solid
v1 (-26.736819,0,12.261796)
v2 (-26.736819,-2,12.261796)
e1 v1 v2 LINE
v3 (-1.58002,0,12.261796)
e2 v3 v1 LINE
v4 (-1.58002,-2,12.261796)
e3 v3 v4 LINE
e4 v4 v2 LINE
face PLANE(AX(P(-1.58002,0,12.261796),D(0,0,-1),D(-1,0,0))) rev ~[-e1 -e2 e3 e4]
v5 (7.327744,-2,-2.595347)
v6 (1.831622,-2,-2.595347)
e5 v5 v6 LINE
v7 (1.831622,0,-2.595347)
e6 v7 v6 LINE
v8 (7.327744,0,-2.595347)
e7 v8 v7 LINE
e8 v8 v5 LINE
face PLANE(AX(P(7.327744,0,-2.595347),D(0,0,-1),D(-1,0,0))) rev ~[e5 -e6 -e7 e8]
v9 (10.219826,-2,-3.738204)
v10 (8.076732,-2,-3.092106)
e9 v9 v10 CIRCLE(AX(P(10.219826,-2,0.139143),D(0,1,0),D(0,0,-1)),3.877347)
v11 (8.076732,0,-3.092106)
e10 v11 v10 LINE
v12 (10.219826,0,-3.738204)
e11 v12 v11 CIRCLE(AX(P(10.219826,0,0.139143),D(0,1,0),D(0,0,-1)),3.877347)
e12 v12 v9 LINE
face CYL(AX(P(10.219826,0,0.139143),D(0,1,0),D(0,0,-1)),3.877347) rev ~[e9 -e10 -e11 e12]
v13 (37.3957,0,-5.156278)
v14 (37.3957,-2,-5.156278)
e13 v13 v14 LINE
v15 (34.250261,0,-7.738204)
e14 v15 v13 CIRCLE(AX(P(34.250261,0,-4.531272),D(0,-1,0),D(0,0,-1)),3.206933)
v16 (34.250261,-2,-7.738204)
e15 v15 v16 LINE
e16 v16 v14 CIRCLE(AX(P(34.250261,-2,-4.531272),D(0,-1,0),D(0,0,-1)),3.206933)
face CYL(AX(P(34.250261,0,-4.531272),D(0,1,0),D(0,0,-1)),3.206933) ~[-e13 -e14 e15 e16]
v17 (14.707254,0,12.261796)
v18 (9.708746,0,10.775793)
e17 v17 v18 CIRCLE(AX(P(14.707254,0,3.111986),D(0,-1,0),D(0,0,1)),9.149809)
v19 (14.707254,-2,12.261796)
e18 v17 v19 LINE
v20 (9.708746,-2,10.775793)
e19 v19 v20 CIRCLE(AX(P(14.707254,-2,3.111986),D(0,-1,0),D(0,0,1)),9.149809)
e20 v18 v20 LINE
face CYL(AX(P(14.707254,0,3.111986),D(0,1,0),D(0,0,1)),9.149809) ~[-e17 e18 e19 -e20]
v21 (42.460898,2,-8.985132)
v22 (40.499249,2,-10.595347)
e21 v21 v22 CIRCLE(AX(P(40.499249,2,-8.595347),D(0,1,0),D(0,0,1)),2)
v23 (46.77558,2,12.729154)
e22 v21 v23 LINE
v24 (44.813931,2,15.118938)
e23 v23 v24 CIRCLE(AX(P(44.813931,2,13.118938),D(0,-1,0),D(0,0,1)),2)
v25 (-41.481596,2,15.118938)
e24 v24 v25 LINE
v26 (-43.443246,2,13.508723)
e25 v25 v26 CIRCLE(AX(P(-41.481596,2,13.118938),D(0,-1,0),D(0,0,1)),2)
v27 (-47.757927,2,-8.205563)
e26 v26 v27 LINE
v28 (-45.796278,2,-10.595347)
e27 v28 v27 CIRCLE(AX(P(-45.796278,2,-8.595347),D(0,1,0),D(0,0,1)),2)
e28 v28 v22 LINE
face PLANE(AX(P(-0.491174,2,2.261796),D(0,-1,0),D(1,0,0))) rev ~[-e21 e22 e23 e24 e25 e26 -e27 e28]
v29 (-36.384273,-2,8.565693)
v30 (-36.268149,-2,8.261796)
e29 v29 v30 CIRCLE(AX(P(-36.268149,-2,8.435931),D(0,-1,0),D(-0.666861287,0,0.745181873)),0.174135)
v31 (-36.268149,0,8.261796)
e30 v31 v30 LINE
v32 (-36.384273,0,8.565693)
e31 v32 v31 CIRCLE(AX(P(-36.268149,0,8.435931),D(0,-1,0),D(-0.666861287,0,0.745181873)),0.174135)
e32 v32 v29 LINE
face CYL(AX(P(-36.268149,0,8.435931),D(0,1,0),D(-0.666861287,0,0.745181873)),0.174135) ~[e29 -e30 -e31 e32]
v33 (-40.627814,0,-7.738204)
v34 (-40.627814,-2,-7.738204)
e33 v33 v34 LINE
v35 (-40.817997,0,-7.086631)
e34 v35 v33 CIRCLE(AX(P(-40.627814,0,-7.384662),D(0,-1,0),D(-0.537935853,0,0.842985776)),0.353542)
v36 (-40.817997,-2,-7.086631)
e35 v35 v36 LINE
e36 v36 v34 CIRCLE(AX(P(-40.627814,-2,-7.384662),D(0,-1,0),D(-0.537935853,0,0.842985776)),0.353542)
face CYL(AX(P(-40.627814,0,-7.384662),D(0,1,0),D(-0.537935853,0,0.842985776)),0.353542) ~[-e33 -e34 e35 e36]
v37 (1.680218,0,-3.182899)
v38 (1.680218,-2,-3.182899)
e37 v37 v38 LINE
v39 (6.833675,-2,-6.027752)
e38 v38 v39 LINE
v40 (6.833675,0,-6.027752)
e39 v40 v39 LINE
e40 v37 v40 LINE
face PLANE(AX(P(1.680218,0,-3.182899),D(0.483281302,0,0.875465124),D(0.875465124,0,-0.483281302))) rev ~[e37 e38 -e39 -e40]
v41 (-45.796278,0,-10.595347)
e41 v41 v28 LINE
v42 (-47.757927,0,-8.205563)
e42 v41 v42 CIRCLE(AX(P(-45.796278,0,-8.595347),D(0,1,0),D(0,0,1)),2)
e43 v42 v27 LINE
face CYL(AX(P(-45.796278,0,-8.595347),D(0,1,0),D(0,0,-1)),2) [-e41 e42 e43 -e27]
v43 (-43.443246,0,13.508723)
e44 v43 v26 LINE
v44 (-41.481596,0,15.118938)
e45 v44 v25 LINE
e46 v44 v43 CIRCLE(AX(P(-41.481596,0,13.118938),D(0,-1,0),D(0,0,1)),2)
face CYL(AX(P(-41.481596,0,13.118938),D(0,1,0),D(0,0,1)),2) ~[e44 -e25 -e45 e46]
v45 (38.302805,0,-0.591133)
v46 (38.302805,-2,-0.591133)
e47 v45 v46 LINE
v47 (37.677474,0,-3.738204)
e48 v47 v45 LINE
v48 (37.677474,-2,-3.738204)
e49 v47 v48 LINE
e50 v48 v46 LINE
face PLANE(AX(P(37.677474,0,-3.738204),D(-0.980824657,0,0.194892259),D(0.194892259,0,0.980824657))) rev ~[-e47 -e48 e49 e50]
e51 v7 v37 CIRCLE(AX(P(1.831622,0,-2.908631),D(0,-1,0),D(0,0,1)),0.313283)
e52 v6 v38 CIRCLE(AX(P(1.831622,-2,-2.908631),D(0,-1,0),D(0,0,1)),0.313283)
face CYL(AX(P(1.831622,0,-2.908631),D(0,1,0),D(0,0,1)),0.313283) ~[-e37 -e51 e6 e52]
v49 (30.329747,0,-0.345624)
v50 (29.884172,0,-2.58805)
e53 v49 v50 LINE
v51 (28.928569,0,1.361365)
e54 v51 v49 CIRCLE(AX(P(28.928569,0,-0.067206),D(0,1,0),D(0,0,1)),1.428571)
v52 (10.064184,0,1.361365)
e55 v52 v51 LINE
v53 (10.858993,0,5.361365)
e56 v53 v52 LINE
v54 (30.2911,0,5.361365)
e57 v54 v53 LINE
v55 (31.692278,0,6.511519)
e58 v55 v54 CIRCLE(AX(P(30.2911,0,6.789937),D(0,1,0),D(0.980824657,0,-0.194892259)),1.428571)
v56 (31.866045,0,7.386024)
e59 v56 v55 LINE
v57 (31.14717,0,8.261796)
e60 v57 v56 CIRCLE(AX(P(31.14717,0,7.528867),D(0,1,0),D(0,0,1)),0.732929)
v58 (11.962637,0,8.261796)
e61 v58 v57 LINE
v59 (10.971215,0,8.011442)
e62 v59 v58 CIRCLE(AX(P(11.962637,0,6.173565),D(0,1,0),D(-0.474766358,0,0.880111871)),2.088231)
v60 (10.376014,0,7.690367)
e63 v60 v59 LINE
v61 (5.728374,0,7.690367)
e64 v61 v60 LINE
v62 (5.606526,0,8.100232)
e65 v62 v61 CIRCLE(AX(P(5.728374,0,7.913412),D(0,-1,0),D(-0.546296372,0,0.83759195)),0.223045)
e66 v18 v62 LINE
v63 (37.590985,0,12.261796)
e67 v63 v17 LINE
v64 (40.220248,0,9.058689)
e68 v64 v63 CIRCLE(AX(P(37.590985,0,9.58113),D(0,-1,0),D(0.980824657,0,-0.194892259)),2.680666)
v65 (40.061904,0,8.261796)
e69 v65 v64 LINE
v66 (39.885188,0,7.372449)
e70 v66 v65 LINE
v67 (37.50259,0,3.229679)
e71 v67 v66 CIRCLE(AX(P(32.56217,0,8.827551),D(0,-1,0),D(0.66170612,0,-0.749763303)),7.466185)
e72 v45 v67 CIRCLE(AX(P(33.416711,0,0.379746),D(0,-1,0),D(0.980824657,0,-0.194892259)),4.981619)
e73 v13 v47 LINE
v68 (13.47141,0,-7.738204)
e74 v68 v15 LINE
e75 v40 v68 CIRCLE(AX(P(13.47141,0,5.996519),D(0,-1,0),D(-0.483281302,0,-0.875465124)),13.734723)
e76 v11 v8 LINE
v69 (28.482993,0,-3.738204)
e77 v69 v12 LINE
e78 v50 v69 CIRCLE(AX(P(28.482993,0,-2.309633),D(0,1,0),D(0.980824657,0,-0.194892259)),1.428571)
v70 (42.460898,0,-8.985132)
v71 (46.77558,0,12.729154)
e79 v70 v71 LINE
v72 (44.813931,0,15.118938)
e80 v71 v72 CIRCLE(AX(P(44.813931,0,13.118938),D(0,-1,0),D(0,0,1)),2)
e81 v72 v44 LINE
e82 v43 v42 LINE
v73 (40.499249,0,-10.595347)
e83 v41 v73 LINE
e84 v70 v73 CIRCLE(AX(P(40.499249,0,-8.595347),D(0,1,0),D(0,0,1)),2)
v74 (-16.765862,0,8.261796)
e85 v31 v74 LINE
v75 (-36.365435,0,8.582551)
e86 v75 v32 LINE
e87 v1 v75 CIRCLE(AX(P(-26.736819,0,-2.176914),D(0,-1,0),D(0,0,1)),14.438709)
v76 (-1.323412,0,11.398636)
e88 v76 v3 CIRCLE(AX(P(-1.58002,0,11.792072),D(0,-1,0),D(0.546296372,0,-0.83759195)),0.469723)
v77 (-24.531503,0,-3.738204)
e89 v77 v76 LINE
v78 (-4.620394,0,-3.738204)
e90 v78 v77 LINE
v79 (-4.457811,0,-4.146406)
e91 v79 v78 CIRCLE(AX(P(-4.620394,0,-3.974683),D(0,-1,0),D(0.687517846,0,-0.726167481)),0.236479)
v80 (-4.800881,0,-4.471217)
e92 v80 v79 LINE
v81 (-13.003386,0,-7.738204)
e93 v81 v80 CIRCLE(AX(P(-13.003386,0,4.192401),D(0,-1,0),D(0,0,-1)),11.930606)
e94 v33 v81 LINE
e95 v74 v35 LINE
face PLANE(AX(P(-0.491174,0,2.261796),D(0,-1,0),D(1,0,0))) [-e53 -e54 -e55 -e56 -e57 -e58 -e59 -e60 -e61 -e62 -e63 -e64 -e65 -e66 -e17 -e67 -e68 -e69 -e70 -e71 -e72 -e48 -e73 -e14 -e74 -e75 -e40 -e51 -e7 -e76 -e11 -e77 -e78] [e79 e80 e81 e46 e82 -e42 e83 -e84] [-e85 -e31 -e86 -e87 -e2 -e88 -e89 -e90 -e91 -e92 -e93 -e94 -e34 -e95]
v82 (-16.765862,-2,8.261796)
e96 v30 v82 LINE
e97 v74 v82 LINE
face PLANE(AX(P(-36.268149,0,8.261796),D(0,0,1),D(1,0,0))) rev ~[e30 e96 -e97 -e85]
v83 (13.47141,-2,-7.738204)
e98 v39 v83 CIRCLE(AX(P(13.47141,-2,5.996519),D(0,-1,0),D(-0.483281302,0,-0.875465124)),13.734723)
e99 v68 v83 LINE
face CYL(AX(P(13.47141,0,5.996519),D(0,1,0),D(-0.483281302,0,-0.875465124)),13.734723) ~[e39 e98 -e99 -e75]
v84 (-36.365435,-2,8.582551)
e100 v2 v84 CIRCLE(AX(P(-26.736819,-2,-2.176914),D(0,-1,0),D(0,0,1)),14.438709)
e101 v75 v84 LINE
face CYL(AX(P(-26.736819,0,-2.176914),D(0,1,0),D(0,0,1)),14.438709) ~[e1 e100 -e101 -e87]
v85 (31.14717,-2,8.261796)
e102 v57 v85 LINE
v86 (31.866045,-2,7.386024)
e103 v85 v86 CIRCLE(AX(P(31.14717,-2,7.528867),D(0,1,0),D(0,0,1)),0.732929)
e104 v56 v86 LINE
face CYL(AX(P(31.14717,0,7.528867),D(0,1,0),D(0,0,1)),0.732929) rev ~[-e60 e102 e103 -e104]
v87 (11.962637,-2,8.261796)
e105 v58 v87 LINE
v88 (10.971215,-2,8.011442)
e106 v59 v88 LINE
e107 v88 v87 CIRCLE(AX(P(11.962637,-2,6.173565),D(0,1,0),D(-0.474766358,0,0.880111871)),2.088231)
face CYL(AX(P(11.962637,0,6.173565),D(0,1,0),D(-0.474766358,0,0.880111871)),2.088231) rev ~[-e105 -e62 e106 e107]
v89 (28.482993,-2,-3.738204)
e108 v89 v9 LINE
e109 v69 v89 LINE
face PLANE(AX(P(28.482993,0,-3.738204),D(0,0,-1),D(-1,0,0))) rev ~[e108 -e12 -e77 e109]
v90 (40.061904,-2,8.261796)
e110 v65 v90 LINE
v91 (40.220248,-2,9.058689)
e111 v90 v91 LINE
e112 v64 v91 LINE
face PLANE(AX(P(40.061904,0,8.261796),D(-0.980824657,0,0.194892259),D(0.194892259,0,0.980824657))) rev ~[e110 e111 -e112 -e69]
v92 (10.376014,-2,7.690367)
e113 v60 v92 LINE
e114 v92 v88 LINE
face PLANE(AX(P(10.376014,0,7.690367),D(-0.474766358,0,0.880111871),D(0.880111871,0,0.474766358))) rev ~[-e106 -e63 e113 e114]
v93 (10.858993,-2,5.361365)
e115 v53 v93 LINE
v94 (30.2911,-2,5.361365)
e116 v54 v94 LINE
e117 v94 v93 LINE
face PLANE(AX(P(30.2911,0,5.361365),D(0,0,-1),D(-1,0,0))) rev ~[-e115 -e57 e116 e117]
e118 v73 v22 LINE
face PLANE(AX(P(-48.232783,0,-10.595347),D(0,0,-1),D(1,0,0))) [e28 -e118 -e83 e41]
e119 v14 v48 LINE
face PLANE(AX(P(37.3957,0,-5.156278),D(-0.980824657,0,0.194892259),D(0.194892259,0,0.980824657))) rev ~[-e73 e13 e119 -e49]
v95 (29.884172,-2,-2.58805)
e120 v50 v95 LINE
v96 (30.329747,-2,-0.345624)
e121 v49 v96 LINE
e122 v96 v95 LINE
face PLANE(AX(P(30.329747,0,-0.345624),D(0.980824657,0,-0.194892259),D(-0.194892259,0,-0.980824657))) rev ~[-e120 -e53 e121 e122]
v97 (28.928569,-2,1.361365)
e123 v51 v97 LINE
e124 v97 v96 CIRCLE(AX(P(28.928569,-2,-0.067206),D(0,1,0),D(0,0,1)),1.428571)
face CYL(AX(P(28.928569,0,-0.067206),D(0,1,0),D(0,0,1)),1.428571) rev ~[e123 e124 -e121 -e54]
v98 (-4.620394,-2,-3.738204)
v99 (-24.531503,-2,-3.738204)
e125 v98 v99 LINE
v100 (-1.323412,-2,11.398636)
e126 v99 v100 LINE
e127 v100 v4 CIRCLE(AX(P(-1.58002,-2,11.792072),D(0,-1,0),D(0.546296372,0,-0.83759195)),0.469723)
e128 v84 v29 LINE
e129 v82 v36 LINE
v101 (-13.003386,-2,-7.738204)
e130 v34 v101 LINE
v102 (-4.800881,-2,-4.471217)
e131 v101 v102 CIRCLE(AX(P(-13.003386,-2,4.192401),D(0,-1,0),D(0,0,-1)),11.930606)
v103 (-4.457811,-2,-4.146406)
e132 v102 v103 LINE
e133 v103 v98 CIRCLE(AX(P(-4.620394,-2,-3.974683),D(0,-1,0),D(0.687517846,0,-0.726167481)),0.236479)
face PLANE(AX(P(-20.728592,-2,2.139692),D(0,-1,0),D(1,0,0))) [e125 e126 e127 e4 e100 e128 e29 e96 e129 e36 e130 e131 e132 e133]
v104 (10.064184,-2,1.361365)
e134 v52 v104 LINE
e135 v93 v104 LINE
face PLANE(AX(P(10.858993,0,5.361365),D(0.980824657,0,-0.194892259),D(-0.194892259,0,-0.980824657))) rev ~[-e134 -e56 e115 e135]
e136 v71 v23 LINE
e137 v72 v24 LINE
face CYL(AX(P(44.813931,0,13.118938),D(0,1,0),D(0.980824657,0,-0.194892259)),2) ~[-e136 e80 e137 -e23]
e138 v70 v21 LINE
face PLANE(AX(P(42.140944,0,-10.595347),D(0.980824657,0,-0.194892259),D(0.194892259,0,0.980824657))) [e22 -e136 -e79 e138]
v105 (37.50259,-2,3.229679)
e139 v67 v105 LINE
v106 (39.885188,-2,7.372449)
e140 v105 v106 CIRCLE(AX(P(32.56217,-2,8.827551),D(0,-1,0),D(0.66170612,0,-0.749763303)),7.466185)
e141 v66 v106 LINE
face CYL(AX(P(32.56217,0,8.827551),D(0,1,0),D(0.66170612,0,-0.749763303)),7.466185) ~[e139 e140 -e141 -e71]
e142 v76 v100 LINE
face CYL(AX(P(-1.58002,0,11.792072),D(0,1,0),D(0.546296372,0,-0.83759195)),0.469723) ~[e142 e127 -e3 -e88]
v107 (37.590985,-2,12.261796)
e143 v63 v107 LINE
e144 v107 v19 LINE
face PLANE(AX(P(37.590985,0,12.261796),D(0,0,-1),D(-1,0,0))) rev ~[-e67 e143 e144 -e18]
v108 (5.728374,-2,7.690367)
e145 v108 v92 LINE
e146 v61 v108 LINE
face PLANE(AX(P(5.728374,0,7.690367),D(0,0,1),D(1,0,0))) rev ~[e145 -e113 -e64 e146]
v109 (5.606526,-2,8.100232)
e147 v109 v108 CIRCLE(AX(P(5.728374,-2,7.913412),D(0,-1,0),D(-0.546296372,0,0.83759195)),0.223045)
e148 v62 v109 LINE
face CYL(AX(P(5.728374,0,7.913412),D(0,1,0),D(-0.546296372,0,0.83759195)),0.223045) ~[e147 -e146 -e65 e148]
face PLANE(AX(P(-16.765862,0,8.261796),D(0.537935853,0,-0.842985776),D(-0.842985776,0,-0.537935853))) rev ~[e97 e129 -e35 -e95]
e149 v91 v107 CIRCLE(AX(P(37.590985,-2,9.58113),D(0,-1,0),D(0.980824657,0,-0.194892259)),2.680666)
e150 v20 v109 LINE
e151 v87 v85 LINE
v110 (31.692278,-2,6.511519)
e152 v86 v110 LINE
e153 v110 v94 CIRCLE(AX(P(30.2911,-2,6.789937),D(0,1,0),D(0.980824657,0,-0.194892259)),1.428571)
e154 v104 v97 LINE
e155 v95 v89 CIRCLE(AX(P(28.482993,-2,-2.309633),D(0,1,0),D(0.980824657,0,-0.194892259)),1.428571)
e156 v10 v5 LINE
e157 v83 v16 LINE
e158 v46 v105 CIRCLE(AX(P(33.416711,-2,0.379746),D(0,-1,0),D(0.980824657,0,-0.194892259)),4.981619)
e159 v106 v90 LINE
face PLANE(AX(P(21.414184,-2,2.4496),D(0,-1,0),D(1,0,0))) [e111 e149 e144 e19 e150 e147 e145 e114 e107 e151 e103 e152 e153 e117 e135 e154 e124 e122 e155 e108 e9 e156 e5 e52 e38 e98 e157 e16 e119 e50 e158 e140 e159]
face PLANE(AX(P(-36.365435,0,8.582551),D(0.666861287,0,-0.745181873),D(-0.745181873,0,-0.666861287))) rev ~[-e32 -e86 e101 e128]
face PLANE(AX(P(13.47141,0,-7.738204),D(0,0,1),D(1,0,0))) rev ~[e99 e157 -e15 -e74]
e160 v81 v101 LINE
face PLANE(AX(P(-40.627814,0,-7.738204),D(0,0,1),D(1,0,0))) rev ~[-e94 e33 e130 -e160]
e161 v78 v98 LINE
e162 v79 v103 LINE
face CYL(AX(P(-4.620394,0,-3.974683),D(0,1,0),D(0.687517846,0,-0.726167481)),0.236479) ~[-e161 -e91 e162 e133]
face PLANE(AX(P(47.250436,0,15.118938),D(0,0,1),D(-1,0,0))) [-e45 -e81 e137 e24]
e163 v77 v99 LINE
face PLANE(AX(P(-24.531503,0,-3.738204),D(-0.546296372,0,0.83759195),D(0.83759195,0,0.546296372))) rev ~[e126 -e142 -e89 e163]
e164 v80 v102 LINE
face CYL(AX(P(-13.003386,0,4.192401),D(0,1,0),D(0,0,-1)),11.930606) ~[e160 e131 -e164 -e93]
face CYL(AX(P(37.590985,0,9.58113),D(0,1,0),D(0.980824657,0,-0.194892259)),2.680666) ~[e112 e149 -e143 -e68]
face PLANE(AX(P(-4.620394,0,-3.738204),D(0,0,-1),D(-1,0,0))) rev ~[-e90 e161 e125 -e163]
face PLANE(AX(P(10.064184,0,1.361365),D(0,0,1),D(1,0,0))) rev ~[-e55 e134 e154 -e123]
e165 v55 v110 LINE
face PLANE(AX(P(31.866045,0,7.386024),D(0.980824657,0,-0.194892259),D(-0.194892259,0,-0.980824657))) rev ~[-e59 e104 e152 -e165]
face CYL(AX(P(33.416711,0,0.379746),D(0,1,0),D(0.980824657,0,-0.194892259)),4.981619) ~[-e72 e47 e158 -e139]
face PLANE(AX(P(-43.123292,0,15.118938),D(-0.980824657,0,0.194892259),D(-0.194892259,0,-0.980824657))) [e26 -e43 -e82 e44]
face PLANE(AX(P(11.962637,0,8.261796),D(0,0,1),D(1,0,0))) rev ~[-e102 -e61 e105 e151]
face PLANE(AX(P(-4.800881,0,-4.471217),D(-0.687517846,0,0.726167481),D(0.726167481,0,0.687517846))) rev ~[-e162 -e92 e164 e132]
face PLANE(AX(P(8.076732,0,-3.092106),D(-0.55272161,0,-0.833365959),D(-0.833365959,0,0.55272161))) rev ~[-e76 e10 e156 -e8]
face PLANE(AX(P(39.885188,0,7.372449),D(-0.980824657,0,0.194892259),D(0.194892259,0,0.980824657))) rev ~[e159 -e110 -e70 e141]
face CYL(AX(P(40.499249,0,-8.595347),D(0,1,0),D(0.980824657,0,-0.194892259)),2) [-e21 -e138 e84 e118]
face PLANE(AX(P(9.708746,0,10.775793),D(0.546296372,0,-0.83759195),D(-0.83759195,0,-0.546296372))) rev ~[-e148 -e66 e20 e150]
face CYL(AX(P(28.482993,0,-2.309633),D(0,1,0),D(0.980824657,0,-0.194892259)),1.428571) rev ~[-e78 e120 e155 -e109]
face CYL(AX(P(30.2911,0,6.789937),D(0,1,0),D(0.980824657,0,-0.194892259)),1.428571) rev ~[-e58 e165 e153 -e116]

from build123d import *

# Parameters (mm, degrees)
F1_DEPTH = 7
F2_DEPTH = 7
F3_SCALE = 0.2857142857
F4_R     = 2


with BuildPart() as f1:
    # F0 (on Front) → F1 (new body)
    with BuildSketch(Plane.XZ):
        Polygon((147.4933057071, -37.0837153708), (165.3765259448, 52.9162846292), (-150.931521252, 52.9162846292), (-168.8147414897, -37.0837153708), align=None)
        with BuildLine():
            ThreePointArc((-142.1973491985, -27.0837153708), (-143.3851815175, -26.1930259545), (-142.862989539, -24.8032098545))
            Line((-142.862989539, -24.8032098545), (-58.6805177571, 28.9162846292))
            Line((-58.6805177571, 28.9162846292), (-126.9385200674, 28.9162846292))
            ThreePointArc((-126.9385200674, 28.9162846292), (-127.5078443538, 29.3082097622), (-127.3449539143, 29.9799255933))
            Line((-127.3449539143, 29.9799255933), (-127.2790222066, 30.0389277041))
            ThreePointArc((-127.2790222066, 30.0389277041), (-111.6172057975, 39.5872981724), (-93.5788654913, 42.9162846292))
            Line((-93.5788654913, 42.9162846292), (-5.5300716236, 42.9162846292))
            ThreePointArc((-5.5300716236, 42.9162846292), (-3.9542047196, 41.7407419895), (-4.6319434734, 39.8952265659))
            Line((-4.6319434734, 39.8952265659), (-85.8602612303, -13.0837153708))
            Line((-85.8602612303, -13.0837153708), (-16.1713797912, -13.0837153708))
            ThreePointArc((-16.1713797912, -13.0837153708), (-15.4024508391, -13.6051323257), (-15.6023385777, -14.5124207397))
            Line((-15.6023385777, -14.5124207397), (-16.8030846787, -15.64925817))
            ThreePointArc((-16.8030846787, -15.64925817), (-30.0607978631, -24.1199204391), (-45.5118495348, -27.0837153708))
            Line((-45.5118495348, -27.0837153708), (-142.1973491985, -27.0837153708))
        make_face(mode=Mode.SUBTRACT)
        with BuildLine():
            Line((106.0489553402, 28.9162846292), (41.869228107, 28.9162846292))
            ThreePointArc((41.869228107, 28.9162846292), (40.0797780502, 28.6938397575), (38.3992524714, 28.0400454431))
            Line((38.3992524714, 28.0400454431), (36.3160483539, 26.9162846292))
            Line((36.3160483539, 26.9162846292), (20.0493094875, 26.9162846292))
            ThreePointArc((20.0493094875, 26.9162846292), (19.3010202491, 27.474482726), (19.6228396963, 28.3508126542))
            Line((19.6228396963, 28.3508126542), (33.9806112595, 37.7152752825))
            ThreePointArc((33.9806112595, 37.7152752825), (42.3496315662, 41.5885064265), (51.4753877229, 42.9162846292))
            Line((51.4753877229, 42.9162846292), (131.5684478923, 42.9162846292))
            ThreePointArc((131.5684478923, 42.9162846292), (138.8204863429, 39.4867738937), (140.7708688735, 31.7054106738))
            Line((140.7708688735, 31.7054106738), (140.2166627032, 28.9162846292))
            Line((140.2166627032, 28.9162846292), (139.5981588527, 25.8035708221))
            ThreePointArc((139.5981588527, 25.8035708221), (136.6200902795, 17.8684779813), (131.2590653991, 11.3038757046))
            ThreePointArc((131.2590653991, 11.3038757046), (134.023896113, 4.9032216546), (134.0598180061, -2.0689638538))
            Line((134.0598180061, -2.0689638538), (131.8711599256, -13.0837153708))
            Line((131.8711599256, -13.0837153708), (130.884948536, -18.0469727646))
            ThreePointArc((130.884948536, -18.0469727646), (126.99738704, -24.5352055481), (119.8759127038, -27.0837153708))
            Line((119.8759127038, -27.0837153708), (47.1499341011, -27.0837153708))
            ThreePointArc((47.1499341011, -27.0837153708), (35.1544316326, -25.5630169154), (23.9178624463, -21.0971333315))
            Line((23.9178624463, -21.0971333315), (5.8807617496, -11.1401478834))
            ThreePointArc((5.8807617496, -11.1401478834), (5.3488703402, -9.9065948541), (6.4106758325, -9.0837153708))
            Line((6.4106758325, -9.0837153708), (25.6471037865, -9.0837153708))
            Line((25.6471037865, -9.0837153708), (28.2685634943, -10.8223722179))
            ThreePointArc((28.2685634943, -10.8223722179), (31.8522465321, -12.5060863745), (35.7693911833, -13.0837153708))
            Line((35.7693911833, -13.0837153708), (99.6904770334, -13.0837153708))
            ThreePointArc((99.6904770334, -13.0837153708), (102.8628336901, -11.9484473464), (104.594600317, -9.058176668))
            Line((104.594600317, -9.058176668), (106.1541152114, -1.209683017))
            ThreePointArc((106.1541152114, -1.209683017), (105.1147239034, 2.9371349369), (101.2499919278, 4.7647782803))
            Line((101.2499919278, 4.7647782803), (35.2246427987, 4.7647782803))
            Line((35.2246427987, 4.7647782803), (38.0064770579, 18.7647782803))
            Line((38.0064770579, 18.7647782803), (106.0188506579, 18.7647782803))
            ThreePointArc((106.0188506579, 18.7647782803), (109.1912073145, 19.9000463047), (110.9229739414, 22.790316983))
            Line((110.9229739414, 22.790316983), (111.5311561589, 25.8510856166))
            ThreePointArc((111.5311561589, 25.8510856166), (110.9978961623, 27.9786117089), (109.0150943587, 28.9162846292))
            Line((109.0150943587, 28.9162846292), (106.0489553402, 28.9162846292))
        make_face(mode=Mode.SUBTRACT)
        with BuildLine():
            Line((-58.6805177571, 28.9162846292), (-142.862989539, -24.8032098545))
            ThreePointArc((-142.862989539, -24.8032098545), (-143.3851815175, -26.1930259545), (-142.1973491985, -27.0837153708))
            Line((-142.1973491985, -27.0837153708), (-45.5118495348, -27.0837153708))
            ThreePointArc((-45.5118495348, -27.0837153708), (-30.0607978631, -24.1199204391), (-16.8030846787, -15.64925817))
            Line((-16.8030846787, -15.64925817), (-15.6023385777, -14.5124207397))
            ThreePointArc((-15.6023385777, -14.5124207397), (-15.4024508391, -13.6051323257), (-16.1713797912, -13.0837153708))
            Line((-16.1713797912, -13.0837153708), (-85.8602612303, -13.0837153708))
            Line((-85.8602612303, -13.0837153708), (-4.6319434734, 39.8952265659))
            ThreePointArc((-4.6319434734, 39.8952265659), (-3.9542047196, 41.7407419895), (-5.5300716236, 42.9162846292))
            Line((-5.5300716236, 42.9162846292), (-93.5788654913, 42.9162846292))
            ThreePointArc((-93.5788654913, 42.9162846292), (-111.6172057975, 39.5872981724), (-127.2790222066, 30.0389277041))
            Line((-127.2790222066, 30.0389277041), (-127.3449539143, 29.9799255933))
            ThreePointArc((-127.3449539143, 29.9799255933), (-127.5078443538, 29.3082097622), (-126.9385200674, 28.9162846292))
            Line((-126.9385200674, 28.9162846292), (-58.6805177571, 28.9162846292))
        make_face()
        with BuildLine():
            ThreePointArc((38.3992524714, 28.0400454431), (40.0797780502, 28.6938397575), (41.869228107, 28.9162846292))
            Line((41.869228107, 28.9162846292), (106.0489553402, 28.9162846292))
            Line((106.0489553402, 28.9162846292), (109.0150943587, 28.9162846292))
            ThreePointArc((109.0150943587, 28.9162846292), (110.9978961623, 27.9786117089), (111.5311561589, 25.8510856166))
            Line((111.5311561589, 25.8510856166), (110.9229739414, 22.790316983))
            ThreePointArc((110.9229739414, 22.790316983), (109.1912073145, 19.9000463047), (106.0188506579, 18.7647782803))
            Line((106.0188506579, 18.7647782803), (38.0064770579, 18.7647782803))
            Line((38.0064770579, 18.7647782803), (35.2246427987, 4.7647782803))
            Line((35.2246427987, 4.7647782803), (101.2499919278, 4.7647782803))
            ThreePointArc((101.2499919278, 4.7647782803), (105.1147239034, 2.9371349369), (106.1541152114, -1.209683017))
            Line((106.1541152114, -1.209683017), (104.594600317, -9.058176668))
            ThreePointArc((104.594600317, -9.058176668), (102.8628336901, -11.9484473464), (99.6904770334, -13.0837153708))
            Line((99.6904770334, -13.0837153708), (35.7693911833, -13.0837153708))
            ThreePointArc((35.7693911833, -13.0837153708), (31.8522465321, -12.5060863745), (28.2685634943, -10.8223722179))
            Line((28.2685634943, -10.8223722179), (25.6471037865, -9.0837153708))
            Line((25.6471037865, -9.0837153708), (6.4106758325, -9.0837153708))
            ThreePointArc((6.4106758325, -9.0837153708), (5.3488703402, -9.9065948541), (5.8807617496, -11.1401478834))
            Line((5.8807617496, -11.1401478834), (23.9178624463, -21.0971333315))
            ThreePointArc((23.9178624463, -21.0971333315), (35.1544316326, -25.5630169154), (47.1499341011, -27.0837153708))
            Line((47.1499341011, -27.0837153708), (119.8759127038, -27.0837153708))
            ThreePointArc((119.8759127038, -27.0837153708), (126.99738704, -24.5352055481), (130.884948536, -18.0469727646))
            Line((130.884948536, -18.0469727646), (131.8711599256, -13.0837153708))
            Line((131.8711599256, -13.0837153708), (134.0598180061, -2.0689638538))
            ThreePointArc((134.0598180061, -2.0689638538), (134.023896113, 4.9032216546), (131.2590653991, 11.3038757046))
            ThreePointArc((131.2590653991, 11.3038757046), (136.6200902795, 17.8684779813), (139.5981588527, 25.8035708221))
            Line((139.5981588527, 25.8035708221), (140.2166627032, 28.9162846292))
            Line((140.2166627032, 28.9162846292), (140.7708688735, 31.7054106738))
            ThreePointArc((140.7708688735, 31.7054106738), (138.8204863429, 39.4867738937), (131.5684478923, 42.9162846292))
            Line((131.5684478923, 42.9162846292), (51.4753877229, 42.9162846292))
            ThreePointArc((51.4753877229, 42.9162846292), (42.3496315662, 41.5885064265), (33.9806112595, 37.7152752825))
            Line((33.9806112595, 37.7152752825), (19.6228396963, 28.3508126542))
            ThreePointArc((19.6228396963, 28.3508126542), (19.3010202491, 27.474482726), (20.0493094875, 26.9162846292))
            Line((20.0493094875, 26.9162846292), (36.3160483539, 26.9162846292))
            Line((36.3160483539, 26.9162846292), (38.3992524714, 28.0400454431))
        make_face()
    extrude(amount=-F1_DEPTH)

    # F0 (on Front) → F2 (join)
    with BuildSketch(Plane.XZ):
        with BuildLine():
            Line((-58.6805177571, 28.9162846292), (-142.862989539, -24.8032098545))
            ThreePointArc((-142.862989539, -24.8032098545), (-143.3851815175, -26.1930259545), (-142.1973491985, -27.0837153708))
            Line((-142.1973491985, -27.0837153708), (-45.5118495348, -27.0837153708))
            ThreePointArc((-45.5118495348, -27.0837153708), (-30.0607978631, -24.1199204391), (-16.8030846787, -15.64925817))
            Line((-16.8030846787, -15.64925817), (-15.6023385777, -14.5124207397))
            ThreePointArc((-15.6023385777, -14.5124207397), (-15.4024508391, -13.6051323257), (-16.1713797912, -13.0837153708))
            Line((-16.1713797912, -13.0837153708), (-85.8602612303, -13.0837153708))
            Line((-85.8602612303, -13.0837153708), (-4.6319434734, 39.8952265659))
            ThreePointArc((-4.6319434734, 39.8952265659), (-3.9542047196, 41.7407419895), (-5.5300716236, 42.9162846292))
            Line((-5.5300716236, 42.9162846292), (-93.5788654913, 42.9162846292))
            ThreePointArc((-93.5788654913, 42.9162846292), (-111.6172057975, 39.5872981724), (-127.2790222066, 30.0389277041))
            Line((-127.2790222066, 30.0389277041), (-127.3449539143, 29.9799255933))
            ThreePointArc((-127.3449539143, 29.9799255933), (-127.5078443538, 29.3082097622), (-126.9385200674, 28.9162846292))
            Line((-126.9385200674, 28.9162846292), (-58.6805177571, 28.9162846292))
        make_face()
        with BuildLine():
            ThreePointArc((38.3992524714, 28.0400454431), (40.0797780502, 28.6938397575), (41.869228107, 28.9162846292))
            Line((41.869228107, 28.9162846292), (106.0489553402, 28.9162846292))
            Line((106.0489553402, 28.9162846292), (109.0150943587, 28.9162846292))
            ThreePointArc((109.0150943587, 28.9162846292), (110.9978961623, 27.9786117089), (111.5311561589, 25.8510856166))
            Line((111.5311561589, 25.8510856166), (110.9229739414, 22.790316983))
            ThreePointArc((110.9229739414, 22.790316983), (109.1912073145, 19.9000463047), (106.0188506579, 18.7647782803))
            Line((106.0188506579, 18.7647782803), (38.0064770579, 18.7647782803))
            Line((38.0064770579, 18.7647782803), (35.2246427987, 4.7647782803))
            Line((35.2246427987, 4.7647782803), (101.2499919278, 4.7647782803))
            ThreePointArc((101.2499919278, 4.7647782803), (105.1147239034, 2.9371349369), (106.1541152114, -1.209683017))
            Line((106.1541152114, -1.209683017), (104.594600317, -9.058176668))
            ThreePointArc((104.594600317, -9.058176668), (102.8628336901, -11.9484473464), (99.6904770334, -13.0837153708))
            Line((99.6904770334, -13.0837153708), (35.7693911833, -13.0837153708))
            ThreePointArc((35.7693911833, -13.0837153708), (31.8522465321, -12.5060863745), (28.2685634943, -10.8223722179))
            Line((28.2685634943, -10.8223722179), (25.6471037865, -9.0837153708))
            Line((25.6471037865, -9.0837153708), (6.4106758325, -9.0837153708))
            ThreePointArc((6.4106758325, -9.0837153708), (5.3488703402, -9.9065948541), (5.8807617496, -11.1401478834))
            Line((5.8807617496, -11.1401478834), (23.9178624463, -21.0971333315))
            ThreePointArc((23.9178624463, -21.0971333315), (35.1544316326, -25.5630169154), (47.1499341011, -27.0837153708))
            Line((47.1499341011, -27.0837153708), (119.8759127038, -27.0837153708))
            ThreePointArc((119.8759127038, -27.0837153708), (126.99738704, -24.5352055481), (130.884948536, -18.0469727646))
            Line((130.884948536, -18.0469727646), (131.8711599256, -13.0837153708))
            Line((131.8711599256, -13.0837153708), (134.0598180061, -2.0689638538))
            ThreePointArc((134.0598180061, -2.0689638538), (134.023896113, 4.9032216546), (131.2590653991, 11.3038757046))
            ThreePointArc((131.2590653991, 11.3038757046), (136.6200902795, 17.8684779813), (139.5981588527, 25.8035708221))
            Line((139.5981588527, 25.8035708221), (140.2166627032, 28.9162846292))
            Line((140.2166627032, 28.9162846292), (140.7708688735, 31.7054106738))
            ThreePointArc((140.7708688735, 31.7054106738), (138.8204863429, 39.4867738937), (131.5684478923, 42.9162846292))
            Line((131.5684478923, 42.9162846292), (51.4753877229, 42.9162846292))
            ThreePointArc((51.4753877229, 42.9162846292), (42.3496315662, 41.5885064265), (33.9806112595, 37.7152752825))
            Line((33.9806112595, 37.7152752825), (19.6228396963, 28.3508126542))
            ThreePointArc((19.6228396963, 28.3508126542), (19.3010202491, 27.474482726), (20.0493094875, 26.9162846292))
            Line((20.0493094875, 26.9162846292), (36.3160483539, 26.9162846292))
            Line((36.3160483539, 26.9162846292), (38.3992524714, 28.0400454431))
        make_face()
    extrude(amount=F2_DEPTH)


with BuildPart() as f1_1:
    # F3: moved
    add(f1.part.scale(F3_SCALE))

    # F4
    f4_edges = [f1_1.edges().sort_by_distance(p)[0] for p in [
        (-48.232783, 1, -10.595347),
        (-43.123292, 1, 15.118938),
        (47.250436, 1, 15.118938),
        (42.140944, 1, -10.595347),
    ]]
    fillet(f4_edges, radius=F4_R)


solid = f1_1.part
